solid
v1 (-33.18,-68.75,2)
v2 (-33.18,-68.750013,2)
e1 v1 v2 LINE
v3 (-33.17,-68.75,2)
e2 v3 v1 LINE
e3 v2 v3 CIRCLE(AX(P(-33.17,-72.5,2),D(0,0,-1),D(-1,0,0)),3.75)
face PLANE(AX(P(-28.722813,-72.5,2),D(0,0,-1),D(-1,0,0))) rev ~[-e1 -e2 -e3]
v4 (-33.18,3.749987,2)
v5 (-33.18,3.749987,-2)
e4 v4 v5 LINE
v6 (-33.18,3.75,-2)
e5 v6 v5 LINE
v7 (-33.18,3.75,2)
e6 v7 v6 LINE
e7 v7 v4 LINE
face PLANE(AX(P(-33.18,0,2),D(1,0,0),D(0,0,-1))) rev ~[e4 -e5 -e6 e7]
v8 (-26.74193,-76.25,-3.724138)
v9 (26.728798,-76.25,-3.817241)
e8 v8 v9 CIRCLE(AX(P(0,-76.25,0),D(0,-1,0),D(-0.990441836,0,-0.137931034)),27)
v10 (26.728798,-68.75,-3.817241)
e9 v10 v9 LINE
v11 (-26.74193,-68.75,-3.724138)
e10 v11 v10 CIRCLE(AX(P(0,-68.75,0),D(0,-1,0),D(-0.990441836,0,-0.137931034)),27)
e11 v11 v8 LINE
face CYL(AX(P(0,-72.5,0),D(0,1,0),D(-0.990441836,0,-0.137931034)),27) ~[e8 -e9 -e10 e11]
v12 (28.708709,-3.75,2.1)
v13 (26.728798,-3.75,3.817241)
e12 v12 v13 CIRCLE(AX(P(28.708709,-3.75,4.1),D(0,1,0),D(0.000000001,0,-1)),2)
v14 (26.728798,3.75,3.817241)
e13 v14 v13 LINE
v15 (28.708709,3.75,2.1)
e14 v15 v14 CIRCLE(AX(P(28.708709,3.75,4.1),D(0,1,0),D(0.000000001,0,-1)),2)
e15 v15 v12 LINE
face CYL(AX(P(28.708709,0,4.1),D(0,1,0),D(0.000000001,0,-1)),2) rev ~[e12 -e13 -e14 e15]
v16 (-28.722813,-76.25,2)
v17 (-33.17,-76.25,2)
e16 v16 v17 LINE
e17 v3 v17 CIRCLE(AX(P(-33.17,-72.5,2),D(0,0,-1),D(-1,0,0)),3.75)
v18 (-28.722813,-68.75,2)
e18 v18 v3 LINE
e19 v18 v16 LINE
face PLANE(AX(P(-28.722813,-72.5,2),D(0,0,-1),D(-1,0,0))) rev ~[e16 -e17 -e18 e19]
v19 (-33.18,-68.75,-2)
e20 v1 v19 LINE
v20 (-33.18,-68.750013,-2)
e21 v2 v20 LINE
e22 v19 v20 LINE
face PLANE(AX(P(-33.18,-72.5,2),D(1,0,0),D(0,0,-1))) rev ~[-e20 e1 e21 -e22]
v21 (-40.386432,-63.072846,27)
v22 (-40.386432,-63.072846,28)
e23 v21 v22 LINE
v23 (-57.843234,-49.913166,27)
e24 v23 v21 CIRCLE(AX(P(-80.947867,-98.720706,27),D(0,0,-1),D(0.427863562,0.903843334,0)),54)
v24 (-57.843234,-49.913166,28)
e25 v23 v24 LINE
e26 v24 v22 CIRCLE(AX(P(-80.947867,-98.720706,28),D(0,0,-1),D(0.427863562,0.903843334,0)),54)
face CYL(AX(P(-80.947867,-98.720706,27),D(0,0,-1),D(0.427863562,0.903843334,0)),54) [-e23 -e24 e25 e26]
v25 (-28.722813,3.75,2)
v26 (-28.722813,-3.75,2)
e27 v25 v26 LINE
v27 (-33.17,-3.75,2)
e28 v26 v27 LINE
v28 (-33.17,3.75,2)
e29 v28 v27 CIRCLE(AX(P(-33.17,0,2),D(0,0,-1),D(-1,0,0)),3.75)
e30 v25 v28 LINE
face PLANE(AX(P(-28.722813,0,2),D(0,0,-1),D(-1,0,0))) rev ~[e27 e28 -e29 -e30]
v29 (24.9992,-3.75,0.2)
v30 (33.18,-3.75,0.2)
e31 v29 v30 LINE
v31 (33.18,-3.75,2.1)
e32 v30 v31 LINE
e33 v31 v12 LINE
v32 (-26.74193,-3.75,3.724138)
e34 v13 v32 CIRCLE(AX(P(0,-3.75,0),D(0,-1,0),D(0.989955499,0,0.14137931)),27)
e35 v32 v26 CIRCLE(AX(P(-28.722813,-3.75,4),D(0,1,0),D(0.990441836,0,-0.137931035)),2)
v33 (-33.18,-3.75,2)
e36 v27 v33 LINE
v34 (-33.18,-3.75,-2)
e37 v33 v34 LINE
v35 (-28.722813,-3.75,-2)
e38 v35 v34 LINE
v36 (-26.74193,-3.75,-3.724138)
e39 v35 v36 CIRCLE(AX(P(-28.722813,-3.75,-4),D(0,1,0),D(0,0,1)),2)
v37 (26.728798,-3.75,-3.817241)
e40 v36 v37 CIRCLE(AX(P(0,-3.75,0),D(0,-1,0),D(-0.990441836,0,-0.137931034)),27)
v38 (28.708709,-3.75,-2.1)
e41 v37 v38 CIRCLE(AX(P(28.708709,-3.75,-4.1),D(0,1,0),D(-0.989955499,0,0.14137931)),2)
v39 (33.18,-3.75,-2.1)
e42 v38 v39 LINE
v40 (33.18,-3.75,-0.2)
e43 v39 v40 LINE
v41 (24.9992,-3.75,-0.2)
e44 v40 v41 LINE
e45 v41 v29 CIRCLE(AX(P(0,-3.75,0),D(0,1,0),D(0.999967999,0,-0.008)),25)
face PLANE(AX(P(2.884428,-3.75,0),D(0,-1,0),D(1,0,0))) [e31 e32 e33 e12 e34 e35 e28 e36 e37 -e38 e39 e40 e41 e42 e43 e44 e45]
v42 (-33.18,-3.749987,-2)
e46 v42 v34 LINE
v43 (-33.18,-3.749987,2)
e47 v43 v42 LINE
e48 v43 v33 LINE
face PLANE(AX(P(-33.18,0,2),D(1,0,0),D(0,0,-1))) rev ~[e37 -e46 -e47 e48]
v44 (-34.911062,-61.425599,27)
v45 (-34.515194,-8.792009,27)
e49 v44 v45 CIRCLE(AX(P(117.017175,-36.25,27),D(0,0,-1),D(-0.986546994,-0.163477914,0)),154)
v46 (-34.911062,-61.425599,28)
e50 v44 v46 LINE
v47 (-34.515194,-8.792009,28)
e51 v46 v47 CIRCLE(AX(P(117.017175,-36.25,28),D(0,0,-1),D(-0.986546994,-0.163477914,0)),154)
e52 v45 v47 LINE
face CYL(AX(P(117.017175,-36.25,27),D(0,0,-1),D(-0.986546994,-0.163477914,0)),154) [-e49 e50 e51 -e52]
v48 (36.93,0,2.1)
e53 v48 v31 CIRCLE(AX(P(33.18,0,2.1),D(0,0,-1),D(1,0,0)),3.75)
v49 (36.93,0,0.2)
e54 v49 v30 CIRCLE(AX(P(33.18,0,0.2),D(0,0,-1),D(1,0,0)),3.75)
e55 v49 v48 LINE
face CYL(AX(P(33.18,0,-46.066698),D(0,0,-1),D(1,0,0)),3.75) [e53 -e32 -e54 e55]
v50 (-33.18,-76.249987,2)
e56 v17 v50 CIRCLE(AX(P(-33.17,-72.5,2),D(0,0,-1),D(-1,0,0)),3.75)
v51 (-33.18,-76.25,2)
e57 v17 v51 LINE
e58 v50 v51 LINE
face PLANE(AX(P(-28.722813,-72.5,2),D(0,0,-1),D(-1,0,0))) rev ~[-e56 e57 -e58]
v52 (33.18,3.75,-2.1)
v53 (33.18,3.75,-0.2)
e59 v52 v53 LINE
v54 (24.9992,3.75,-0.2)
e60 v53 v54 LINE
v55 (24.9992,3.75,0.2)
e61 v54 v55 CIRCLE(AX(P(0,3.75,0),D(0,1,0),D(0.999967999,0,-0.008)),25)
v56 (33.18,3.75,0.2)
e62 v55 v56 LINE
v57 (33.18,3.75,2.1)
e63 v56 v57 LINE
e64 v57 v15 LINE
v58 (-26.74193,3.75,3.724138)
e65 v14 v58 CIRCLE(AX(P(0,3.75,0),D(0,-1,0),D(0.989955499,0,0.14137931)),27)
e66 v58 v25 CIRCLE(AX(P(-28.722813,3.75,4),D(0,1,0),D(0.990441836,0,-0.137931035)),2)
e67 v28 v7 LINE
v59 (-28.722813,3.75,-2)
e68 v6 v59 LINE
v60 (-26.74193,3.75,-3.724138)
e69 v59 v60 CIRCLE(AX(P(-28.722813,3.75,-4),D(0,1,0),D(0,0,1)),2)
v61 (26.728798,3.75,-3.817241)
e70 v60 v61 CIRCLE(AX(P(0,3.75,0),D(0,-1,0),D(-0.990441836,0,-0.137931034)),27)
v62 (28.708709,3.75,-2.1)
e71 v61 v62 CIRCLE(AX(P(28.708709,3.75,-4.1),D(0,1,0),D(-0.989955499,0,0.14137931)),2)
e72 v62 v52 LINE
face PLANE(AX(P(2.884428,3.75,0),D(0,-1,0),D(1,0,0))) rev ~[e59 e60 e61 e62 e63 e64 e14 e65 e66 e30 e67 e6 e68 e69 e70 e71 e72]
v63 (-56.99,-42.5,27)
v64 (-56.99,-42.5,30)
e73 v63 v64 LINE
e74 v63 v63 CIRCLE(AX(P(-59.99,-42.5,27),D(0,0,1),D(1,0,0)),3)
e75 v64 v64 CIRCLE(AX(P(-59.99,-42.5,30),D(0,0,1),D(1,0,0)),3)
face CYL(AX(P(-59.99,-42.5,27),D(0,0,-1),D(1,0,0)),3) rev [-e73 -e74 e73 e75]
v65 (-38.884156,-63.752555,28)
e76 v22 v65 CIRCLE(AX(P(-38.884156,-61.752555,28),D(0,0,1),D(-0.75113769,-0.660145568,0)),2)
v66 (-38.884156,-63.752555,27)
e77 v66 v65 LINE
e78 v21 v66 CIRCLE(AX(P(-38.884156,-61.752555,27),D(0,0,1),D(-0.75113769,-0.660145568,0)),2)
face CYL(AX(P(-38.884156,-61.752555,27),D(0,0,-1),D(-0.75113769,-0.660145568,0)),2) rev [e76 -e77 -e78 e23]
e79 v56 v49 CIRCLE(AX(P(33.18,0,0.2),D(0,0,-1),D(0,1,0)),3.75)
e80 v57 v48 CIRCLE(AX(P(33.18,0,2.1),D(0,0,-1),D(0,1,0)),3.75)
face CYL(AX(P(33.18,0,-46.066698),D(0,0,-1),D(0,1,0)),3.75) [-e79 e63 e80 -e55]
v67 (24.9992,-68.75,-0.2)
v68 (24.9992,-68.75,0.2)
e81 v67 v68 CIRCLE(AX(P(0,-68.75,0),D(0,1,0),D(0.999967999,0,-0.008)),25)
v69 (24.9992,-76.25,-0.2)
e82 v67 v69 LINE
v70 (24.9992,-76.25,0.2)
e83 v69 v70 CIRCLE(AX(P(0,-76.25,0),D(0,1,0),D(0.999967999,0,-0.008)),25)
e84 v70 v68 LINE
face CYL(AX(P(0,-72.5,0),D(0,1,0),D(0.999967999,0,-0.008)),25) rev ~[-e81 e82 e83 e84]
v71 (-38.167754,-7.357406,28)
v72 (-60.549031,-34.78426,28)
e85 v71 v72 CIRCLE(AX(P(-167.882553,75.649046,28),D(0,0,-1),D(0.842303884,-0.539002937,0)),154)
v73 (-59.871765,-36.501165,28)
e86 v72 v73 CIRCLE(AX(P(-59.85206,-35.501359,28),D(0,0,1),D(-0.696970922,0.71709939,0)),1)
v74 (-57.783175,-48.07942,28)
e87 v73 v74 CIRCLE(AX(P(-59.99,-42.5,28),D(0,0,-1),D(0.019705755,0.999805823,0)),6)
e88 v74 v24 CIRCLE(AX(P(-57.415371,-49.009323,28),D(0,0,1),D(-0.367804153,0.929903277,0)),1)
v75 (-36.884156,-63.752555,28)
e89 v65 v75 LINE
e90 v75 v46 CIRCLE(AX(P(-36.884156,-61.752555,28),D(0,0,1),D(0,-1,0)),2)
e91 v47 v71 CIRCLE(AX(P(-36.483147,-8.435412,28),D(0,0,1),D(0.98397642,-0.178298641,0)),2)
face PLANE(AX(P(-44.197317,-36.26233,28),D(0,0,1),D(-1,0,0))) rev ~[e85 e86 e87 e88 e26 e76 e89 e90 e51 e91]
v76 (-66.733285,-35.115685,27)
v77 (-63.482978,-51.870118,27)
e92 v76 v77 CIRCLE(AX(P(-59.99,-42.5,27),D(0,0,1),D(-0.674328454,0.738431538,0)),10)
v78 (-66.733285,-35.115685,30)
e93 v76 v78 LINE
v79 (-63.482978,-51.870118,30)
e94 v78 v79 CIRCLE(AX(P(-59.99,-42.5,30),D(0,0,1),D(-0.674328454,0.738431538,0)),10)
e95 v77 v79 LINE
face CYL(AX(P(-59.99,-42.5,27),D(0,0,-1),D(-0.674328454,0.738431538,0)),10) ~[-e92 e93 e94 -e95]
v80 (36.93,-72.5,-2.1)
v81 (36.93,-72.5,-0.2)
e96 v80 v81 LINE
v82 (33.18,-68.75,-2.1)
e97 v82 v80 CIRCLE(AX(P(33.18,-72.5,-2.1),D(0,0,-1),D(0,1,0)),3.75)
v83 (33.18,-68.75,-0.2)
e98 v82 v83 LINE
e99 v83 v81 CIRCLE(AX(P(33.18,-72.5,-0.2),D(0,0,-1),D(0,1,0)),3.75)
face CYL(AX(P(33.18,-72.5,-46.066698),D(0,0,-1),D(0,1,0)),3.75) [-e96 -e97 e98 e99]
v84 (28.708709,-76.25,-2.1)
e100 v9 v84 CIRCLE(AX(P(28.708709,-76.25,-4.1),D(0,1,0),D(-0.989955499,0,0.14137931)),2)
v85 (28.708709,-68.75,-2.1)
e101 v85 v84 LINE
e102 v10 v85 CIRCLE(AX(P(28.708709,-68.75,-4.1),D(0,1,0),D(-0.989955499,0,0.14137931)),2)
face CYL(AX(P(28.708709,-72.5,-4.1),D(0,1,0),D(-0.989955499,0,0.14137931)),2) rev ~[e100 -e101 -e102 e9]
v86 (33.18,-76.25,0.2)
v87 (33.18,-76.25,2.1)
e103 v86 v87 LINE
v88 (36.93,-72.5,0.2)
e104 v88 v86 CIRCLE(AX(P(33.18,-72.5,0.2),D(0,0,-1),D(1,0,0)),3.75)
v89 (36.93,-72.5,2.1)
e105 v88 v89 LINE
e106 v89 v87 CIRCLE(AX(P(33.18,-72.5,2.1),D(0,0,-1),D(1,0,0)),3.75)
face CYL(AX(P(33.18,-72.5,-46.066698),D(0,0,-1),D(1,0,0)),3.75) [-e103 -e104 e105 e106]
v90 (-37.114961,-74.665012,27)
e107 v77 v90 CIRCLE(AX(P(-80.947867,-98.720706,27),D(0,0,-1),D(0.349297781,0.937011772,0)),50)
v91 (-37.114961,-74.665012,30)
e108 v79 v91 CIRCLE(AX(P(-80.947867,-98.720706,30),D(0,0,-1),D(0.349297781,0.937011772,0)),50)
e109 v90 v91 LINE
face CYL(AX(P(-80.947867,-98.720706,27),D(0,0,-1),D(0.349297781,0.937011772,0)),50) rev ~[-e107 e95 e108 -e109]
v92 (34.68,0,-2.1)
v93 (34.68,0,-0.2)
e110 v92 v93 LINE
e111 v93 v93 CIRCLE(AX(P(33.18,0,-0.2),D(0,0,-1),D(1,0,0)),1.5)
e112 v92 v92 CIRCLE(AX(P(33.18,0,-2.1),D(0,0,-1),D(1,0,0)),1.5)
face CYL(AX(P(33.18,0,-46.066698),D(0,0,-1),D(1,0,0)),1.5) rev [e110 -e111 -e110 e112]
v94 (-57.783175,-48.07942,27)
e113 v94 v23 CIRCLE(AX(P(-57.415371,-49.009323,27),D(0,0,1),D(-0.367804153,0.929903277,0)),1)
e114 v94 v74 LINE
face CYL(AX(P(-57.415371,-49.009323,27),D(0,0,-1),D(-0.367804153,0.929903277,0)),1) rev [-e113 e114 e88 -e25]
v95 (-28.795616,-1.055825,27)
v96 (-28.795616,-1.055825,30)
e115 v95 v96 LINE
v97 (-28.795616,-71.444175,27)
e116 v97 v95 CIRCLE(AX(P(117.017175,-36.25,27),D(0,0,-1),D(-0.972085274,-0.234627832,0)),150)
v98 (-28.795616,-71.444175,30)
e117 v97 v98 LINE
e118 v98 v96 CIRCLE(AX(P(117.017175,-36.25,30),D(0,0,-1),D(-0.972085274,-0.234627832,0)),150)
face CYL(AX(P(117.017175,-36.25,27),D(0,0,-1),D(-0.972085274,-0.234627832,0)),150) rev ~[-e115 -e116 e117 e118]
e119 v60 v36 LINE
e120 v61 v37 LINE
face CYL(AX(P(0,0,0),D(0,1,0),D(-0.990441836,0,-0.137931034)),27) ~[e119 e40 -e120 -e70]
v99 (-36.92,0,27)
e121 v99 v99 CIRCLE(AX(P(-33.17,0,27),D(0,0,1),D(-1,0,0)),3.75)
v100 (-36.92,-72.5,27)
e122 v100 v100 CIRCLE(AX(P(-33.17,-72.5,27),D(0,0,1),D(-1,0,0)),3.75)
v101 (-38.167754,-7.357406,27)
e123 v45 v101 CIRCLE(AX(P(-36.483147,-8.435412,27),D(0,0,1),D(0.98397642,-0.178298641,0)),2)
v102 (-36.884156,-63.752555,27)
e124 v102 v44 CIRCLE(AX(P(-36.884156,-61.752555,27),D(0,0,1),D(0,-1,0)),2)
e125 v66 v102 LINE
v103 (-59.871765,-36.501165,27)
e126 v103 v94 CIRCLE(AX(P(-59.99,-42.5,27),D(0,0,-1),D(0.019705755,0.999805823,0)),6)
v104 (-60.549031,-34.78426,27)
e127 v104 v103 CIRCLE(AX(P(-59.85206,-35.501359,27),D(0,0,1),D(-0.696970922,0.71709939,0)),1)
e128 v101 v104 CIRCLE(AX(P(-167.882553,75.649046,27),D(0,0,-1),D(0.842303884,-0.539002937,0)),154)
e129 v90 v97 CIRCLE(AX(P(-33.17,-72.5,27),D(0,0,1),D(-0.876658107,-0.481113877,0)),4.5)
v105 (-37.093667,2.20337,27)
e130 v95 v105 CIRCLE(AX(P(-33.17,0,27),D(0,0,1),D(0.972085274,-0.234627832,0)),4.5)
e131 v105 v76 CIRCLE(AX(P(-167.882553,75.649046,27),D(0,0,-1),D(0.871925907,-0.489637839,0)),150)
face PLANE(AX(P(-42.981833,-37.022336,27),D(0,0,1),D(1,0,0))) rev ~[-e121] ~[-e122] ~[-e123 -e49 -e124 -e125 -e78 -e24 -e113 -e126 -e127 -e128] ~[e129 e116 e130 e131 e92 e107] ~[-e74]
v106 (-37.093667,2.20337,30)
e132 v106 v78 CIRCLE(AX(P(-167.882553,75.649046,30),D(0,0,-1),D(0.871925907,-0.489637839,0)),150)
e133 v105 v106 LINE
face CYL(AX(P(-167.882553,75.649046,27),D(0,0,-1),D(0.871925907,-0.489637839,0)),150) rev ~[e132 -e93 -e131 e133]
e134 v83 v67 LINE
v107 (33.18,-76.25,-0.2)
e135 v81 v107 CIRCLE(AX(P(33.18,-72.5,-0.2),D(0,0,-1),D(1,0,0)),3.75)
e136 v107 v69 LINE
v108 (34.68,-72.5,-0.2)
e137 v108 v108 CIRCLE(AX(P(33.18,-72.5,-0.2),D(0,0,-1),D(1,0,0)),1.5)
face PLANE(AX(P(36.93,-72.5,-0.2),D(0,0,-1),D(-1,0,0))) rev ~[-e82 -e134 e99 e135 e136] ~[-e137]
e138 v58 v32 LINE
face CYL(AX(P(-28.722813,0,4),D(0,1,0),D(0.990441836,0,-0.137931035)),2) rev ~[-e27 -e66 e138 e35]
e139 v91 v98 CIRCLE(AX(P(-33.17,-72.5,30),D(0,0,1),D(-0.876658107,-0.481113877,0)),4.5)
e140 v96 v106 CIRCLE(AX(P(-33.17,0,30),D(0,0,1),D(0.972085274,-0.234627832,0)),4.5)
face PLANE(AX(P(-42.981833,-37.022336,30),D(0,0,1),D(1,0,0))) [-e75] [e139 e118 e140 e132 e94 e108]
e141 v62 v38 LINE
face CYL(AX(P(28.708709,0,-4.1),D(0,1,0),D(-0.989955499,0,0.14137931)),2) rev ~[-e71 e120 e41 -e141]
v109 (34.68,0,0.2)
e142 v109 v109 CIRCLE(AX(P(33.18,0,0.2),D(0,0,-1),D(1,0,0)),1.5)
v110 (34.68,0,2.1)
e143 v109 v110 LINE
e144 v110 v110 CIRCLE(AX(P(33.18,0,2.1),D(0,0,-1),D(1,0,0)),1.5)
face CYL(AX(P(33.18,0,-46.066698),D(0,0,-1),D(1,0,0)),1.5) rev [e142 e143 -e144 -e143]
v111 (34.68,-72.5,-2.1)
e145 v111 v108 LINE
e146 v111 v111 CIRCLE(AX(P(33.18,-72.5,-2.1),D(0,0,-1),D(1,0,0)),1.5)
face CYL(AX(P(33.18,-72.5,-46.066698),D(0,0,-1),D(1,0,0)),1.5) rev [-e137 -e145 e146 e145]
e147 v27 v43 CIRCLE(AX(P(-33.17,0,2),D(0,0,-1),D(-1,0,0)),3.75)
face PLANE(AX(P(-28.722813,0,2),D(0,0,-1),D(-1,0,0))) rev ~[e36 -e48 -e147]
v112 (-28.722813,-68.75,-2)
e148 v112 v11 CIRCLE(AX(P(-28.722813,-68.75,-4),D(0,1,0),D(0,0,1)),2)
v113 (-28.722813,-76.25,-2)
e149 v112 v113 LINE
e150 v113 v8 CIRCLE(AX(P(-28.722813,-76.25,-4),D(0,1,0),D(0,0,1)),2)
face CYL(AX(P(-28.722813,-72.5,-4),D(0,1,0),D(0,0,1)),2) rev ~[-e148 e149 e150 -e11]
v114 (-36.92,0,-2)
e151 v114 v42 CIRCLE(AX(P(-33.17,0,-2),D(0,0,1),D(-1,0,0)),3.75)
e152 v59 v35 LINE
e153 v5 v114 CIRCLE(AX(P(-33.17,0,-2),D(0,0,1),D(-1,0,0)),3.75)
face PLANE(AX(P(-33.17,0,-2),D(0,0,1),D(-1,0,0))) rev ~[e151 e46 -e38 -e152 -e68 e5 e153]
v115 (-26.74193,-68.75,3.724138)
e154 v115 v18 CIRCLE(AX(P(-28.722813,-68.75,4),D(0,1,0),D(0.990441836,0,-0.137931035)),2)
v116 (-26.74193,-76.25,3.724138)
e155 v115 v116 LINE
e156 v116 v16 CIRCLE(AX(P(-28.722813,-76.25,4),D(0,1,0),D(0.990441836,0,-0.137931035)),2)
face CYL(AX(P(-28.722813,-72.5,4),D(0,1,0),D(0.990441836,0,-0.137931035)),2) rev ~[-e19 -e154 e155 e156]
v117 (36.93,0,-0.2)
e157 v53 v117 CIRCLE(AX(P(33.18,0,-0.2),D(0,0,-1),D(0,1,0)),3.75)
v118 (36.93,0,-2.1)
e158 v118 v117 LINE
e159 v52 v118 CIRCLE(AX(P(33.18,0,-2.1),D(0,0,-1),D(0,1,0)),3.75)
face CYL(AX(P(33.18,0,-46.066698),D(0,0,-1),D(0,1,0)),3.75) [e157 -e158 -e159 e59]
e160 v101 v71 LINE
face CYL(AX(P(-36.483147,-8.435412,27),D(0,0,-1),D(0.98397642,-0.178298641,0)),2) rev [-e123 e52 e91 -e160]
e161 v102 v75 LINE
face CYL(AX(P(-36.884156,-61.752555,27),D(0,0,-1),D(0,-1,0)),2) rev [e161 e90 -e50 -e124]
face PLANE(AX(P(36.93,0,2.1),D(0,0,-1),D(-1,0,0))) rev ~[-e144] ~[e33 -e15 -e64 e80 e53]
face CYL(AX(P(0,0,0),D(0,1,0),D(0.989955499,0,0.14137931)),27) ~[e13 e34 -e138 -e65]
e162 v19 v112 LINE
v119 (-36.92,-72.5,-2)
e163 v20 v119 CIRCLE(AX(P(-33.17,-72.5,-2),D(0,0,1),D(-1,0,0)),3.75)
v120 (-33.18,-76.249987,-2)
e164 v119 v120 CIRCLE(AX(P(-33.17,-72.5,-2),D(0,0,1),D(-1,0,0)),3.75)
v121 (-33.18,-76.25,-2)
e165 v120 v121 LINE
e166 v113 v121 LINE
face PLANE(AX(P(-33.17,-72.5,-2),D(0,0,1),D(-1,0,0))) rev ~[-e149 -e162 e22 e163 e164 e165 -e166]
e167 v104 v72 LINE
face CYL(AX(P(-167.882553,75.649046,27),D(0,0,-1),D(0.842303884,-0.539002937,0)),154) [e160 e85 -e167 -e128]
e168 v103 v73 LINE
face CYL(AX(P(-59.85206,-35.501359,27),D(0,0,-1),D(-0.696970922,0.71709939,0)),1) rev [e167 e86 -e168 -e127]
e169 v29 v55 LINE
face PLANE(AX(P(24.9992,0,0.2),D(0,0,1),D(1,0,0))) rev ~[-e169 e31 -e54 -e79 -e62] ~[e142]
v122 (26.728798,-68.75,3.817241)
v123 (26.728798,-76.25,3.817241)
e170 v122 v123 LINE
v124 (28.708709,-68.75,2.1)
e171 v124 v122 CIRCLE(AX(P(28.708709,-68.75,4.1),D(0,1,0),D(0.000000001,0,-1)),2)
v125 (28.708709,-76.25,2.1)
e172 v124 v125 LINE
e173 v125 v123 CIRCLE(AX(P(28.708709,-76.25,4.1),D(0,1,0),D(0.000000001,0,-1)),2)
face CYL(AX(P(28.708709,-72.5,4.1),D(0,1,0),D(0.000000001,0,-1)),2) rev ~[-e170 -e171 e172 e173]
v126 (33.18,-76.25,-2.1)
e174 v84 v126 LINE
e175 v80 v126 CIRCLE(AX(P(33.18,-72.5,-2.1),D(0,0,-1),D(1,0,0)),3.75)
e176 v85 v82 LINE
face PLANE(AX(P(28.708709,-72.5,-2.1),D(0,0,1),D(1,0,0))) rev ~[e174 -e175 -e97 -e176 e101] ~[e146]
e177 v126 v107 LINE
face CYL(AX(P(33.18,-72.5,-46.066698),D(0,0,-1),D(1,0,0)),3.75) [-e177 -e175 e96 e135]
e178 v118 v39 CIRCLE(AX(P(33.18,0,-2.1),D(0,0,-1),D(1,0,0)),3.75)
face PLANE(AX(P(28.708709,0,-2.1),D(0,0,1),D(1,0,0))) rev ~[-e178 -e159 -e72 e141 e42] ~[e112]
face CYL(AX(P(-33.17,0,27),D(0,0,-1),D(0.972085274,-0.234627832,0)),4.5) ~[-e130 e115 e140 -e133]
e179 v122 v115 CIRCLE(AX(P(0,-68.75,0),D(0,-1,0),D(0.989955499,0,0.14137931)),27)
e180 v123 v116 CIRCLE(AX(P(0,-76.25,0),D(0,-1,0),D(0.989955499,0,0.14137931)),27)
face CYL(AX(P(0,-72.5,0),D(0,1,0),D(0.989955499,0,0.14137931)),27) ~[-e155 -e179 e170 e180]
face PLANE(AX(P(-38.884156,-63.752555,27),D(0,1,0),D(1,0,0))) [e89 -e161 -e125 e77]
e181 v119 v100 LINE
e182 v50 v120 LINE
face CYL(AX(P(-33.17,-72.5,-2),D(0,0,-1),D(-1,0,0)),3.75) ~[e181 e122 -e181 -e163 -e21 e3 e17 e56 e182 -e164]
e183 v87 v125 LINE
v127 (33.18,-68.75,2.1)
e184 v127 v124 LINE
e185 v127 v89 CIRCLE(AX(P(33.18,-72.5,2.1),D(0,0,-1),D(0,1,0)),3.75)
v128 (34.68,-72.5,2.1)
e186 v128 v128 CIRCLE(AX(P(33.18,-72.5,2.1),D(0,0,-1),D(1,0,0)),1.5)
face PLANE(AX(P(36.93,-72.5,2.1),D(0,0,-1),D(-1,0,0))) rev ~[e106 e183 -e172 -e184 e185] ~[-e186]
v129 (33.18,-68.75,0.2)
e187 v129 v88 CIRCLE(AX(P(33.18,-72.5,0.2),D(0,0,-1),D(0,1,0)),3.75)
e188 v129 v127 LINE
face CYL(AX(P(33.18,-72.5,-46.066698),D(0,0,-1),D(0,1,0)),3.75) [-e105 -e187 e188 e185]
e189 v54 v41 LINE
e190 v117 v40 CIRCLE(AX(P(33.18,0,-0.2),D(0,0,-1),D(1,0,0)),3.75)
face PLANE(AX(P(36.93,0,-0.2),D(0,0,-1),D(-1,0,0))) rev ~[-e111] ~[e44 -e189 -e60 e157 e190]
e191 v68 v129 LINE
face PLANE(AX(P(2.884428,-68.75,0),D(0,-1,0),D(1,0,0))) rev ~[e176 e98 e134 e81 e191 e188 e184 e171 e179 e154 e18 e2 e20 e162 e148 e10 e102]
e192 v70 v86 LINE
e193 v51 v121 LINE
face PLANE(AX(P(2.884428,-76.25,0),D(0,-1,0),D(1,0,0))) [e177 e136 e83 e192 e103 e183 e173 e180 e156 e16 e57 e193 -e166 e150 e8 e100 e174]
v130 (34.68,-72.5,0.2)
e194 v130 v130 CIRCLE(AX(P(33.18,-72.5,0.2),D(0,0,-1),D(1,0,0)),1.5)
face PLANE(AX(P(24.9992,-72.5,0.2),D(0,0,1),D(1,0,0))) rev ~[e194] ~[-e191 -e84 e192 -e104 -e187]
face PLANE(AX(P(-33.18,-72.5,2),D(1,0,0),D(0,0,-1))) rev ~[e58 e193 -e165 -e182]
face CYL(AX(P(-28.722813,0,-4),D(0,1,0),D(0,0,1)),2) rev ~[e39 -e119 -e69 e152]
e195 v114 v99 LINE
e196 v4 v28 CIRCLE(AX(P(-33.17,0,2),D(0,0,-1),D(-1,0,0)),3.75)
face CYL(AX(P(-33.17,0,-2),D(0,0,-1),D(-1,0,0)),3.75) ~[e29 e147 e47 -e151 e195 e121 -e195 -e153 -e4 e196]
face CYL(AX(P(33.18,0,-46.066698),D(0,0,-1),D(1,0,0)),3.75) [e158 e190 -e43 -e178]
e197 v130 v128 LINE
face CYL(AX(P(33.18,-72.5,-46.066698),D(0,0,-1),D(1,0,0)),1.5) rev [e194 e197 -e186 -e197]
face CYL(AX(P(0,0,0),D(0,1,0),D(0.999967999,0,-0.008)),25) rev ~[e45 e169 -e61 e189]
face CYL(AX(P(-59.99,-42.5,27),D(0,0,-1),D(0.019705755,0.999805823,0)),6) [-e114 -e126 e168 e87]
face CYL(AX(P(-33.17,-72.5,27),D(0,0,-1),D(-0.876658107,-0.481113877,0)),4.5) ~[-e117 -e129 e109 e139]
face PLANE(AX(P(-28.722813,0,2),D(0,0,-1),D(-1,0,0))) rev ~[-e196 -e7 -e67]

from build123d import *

# Parameters (mm, degrees)
BOSS_EXTRUDE1_DEPTH     = 3.75
CUT_EXTRUDE1_DEPTH      = 48.166697998
CUT_EXTRUDE1_DEPTH_BACK = 48.166697998
SKETCH2_R               = 1.5
BOSS_EXTRUDE2_START     = -4
SKETCH3_R               = 3.75
BOSS_EXTRUDE2_DEPTH     = 29
SKETCH4_R               = 3
SKETCH4_R_2             = 3.75
BOSS_EXTRUDE3_DEPTH     = 3
CUT_EXTRUDE2_DEPTH      = 1


with BuildPart() as part:
    # Sketch1 → Boss-Extrude1 (new, symmetric)
    with BuildSketch(Plane(origin=(0, 0, 0), x_dir=(-1, 0, 0), z_dir=(0, 1, 0))):
        with BuildLine():
            Line((-36.93, 2.1), (-28.70870948, 2.1))
            ThreePointArc((-28.70870948, 2.1), (-27.398273911, 2.589119918), (-26.728798481, 3.817241379))
            ThreePointArc((-26.728798481, 3.817241379), (0.047012438, 26.999959071), (26.741929561, 3.724137931))
            ThreePointArc((26.741929561, 3.724137931), (27.409748904, 2.491403941), (28.722813233, 2))
            Line((28.722813233, 2), (33.18, 2))
            Line((33.18, 2), (33.18, -2))
            Line((33.18, -2), (28.722813233, -2))
            ThreePointArc((28.722813233, -2), (27.409748904, -2.491403941), (26.741929561, -3.724137931))
            ThreePointArc((26.741929561, -3.724137931), (0.047012438, -26.999959071), (-26.728798481, -3.817241379))
            ThreePointArc((-26.728798481, -3.817241379), (-27.398273911, -2.589119918), (-28.70870948, -2.1))
            Line((-28.70870948, -2.1), (-36.93, -2.1))
            Line((-36.93, -2.1), (-36.93, -0.2))
            Line((-36.93, -0.2), (-24.999199987, -0.2))
            ThreePointArc((-24.999199987, -0.2), (25, 0), (-24.999199987, 0.2))
            Line((-24.999199987, 0.2), (-36.93, 0.2))
            Line((-36.93, 0.2), (-36.93, 2.1))
        make_face()
    extrude(amount=BOSS_EXTRUDE1_DEPTH, both=True)

    # Sketch2 → Cut-Extrude1 (cut, two sides: drawn at the far end of the back side and taken through both)
    with BuildSketch(Plane.XY.offset(2.1).offset(-CUT_EXTRUDE1_DEPTH_BACK)):
        with BuildLine():
            Line((36.93, 0), (36.93, 3.75))
            Line((36.93, 3.75), (33.18, 3.75))
            ThreePointArc((33.18, 3.75), (35.831650429, 2.651650429), (36.93, 0))
        make_face()
        with BuildLine():
            Line((36.93, -3.75), (36.93, 0))
            ThreePointArc((36.93, 0), (35.831650429, -2.651650429), (33.18, -3.75))
            Line((33.18, -3.75), (36.93, -3.75))
        make_face()
        with Locations((33.18, 0)):
            Circle(SKETCH2_R)
    extrude(amount=CUT_EXTRUDE1_DEPTH + CUT_EXTRUDE1_DEPTH_BACK, mode=Mode.SUBTRACT)

    # Sketch3 → Boss-Extrude2 (add)
    with BuildSketch(Plane.XY.offset(2).offset(BOSS_EXTRUDE2_START)):
        with Locations(Location((-33.17, 0, 0), (0, 0, 180))):
            Circle(SKETCH3_R)
    extrude(amount=BOSS_EXTRUDE2_DEPTH)


with BuildPart() as body_2:
    # Body-Move/Copy1: copy of part
    add(part.part.moved(Location((0, -72.5, 0))))


with BuildPart() as part_1:
    add(part.part)

    add(body_2.part)  # Boss-Extrude3 merges body 2
    # Sketch4 → Boss-Extrude3 (add)
    # profile 1 of 2: a face of its own
    with BuildSketch(Plane.XY.offset(27)):
        with BuildLine():
            ThreePointArc((-63.482977809, -51.870117717), (-48.248375933, -60.895538839), (-37.114961483, -74.665012447))
            ThreePointArc((-37.114961483, -74.665012447), (-31.545330888, -76.696480701), (-28.795616265, -71.444174757))
            ThreePointArc((-28.795616265, -71.444174757), (-32.982825115, -36.25), (-28.795616265, -1.055825243))
            ThreePointArc((-28.795616265, -1.055825243), (-31.524893516, 4.188511031), (-37.09366658, 2.203370275))
            ThreePointArc((-37.09366658, 2.203370275), (-50.421900488, -17.640799048), (-66.733284536, -35.115684618))
            ThreePointArc((-66.733284536, -35.115684618), (-69.806976307, -44.404462177), (-63.482977809, -51.870117717))
        make_face()
        with Locations((-59.99, -42.5)):
            Circle(SKETCH4_R, mode=Mode.SUBTRACT)
        with Locations(Location((-33.17, -72.5, 0), (0, 0, 180))):
            Circle(SKETCH4_R_2, mode=Mode.SUBTRACT)
    # profile 2 of 2: a face of its own
    with BuildSketch(Plane.XY.offset(27)):
        with Locations(Location((-33.17, -72.5, 0), (0, 0, 180))):
            Circle(SKETCH4_R_2)
    extrude(amount=BOSS_EXTRUDE3_DEPTH)

    # Sketch5 → Cut-Extrude2 (cut)
    with BuildSketch(Plane(origin=(0, 0, 27), x_dir=(1, 0, 0), z_dir=(0, 0, -1))):
        with BuildLine():
            Line((-38.884156213, 63.752554506), (-36.884156213, 63.752554506))
            ThreePointArc((-36.884156213, 63.752554506), (-35.358719938, 63.046016594), (-34.911062224, 61.425598679))
            ThreePointArc((-34.911062224, 61.425598679), (-36.978469514, 35.091765908), (-34.515193771, 8.792009371))
            ThreePointArc((-34.515193771, 8.792009371), (-35.751988173, 6.573851631), (-38.16775438, 7.357406215))
            ThreePointArc((-38.16775438, 7.357406215), (-48.567697695, 21.716067782), (-60.549030633, 34.784259851))
            ThreePointArc((-60.549030633, 34.784259851), (-60.782300133, 35.868309862), (-59.871765467, 36.501165064))
            ThreePointArc((-59.871765467, 36.501165064), (-54.085301002, 41.434856938), (-57.783175082, 48.079419663))
            ThreePointArc((-57.783175082, 48.079419663), (-58.414835004, 48.976588199), (-57.843234491, 49.913166275))
            ThreePointArc((-57.843234491, 49.913166275), (-48.441923829, 55.600366923), (-40.386431593, 63.072845642))
            ThreePointArc((-40.386431593, 63.072845642), (-39.708600792, 63.574721111), (-38.884156213, 63.752554506))
        make_face()
    extrude(amount=-CUT_EXTRUDE2_DEPTH, mode=Mode.SUBTRACT)


solid = part_1.part
